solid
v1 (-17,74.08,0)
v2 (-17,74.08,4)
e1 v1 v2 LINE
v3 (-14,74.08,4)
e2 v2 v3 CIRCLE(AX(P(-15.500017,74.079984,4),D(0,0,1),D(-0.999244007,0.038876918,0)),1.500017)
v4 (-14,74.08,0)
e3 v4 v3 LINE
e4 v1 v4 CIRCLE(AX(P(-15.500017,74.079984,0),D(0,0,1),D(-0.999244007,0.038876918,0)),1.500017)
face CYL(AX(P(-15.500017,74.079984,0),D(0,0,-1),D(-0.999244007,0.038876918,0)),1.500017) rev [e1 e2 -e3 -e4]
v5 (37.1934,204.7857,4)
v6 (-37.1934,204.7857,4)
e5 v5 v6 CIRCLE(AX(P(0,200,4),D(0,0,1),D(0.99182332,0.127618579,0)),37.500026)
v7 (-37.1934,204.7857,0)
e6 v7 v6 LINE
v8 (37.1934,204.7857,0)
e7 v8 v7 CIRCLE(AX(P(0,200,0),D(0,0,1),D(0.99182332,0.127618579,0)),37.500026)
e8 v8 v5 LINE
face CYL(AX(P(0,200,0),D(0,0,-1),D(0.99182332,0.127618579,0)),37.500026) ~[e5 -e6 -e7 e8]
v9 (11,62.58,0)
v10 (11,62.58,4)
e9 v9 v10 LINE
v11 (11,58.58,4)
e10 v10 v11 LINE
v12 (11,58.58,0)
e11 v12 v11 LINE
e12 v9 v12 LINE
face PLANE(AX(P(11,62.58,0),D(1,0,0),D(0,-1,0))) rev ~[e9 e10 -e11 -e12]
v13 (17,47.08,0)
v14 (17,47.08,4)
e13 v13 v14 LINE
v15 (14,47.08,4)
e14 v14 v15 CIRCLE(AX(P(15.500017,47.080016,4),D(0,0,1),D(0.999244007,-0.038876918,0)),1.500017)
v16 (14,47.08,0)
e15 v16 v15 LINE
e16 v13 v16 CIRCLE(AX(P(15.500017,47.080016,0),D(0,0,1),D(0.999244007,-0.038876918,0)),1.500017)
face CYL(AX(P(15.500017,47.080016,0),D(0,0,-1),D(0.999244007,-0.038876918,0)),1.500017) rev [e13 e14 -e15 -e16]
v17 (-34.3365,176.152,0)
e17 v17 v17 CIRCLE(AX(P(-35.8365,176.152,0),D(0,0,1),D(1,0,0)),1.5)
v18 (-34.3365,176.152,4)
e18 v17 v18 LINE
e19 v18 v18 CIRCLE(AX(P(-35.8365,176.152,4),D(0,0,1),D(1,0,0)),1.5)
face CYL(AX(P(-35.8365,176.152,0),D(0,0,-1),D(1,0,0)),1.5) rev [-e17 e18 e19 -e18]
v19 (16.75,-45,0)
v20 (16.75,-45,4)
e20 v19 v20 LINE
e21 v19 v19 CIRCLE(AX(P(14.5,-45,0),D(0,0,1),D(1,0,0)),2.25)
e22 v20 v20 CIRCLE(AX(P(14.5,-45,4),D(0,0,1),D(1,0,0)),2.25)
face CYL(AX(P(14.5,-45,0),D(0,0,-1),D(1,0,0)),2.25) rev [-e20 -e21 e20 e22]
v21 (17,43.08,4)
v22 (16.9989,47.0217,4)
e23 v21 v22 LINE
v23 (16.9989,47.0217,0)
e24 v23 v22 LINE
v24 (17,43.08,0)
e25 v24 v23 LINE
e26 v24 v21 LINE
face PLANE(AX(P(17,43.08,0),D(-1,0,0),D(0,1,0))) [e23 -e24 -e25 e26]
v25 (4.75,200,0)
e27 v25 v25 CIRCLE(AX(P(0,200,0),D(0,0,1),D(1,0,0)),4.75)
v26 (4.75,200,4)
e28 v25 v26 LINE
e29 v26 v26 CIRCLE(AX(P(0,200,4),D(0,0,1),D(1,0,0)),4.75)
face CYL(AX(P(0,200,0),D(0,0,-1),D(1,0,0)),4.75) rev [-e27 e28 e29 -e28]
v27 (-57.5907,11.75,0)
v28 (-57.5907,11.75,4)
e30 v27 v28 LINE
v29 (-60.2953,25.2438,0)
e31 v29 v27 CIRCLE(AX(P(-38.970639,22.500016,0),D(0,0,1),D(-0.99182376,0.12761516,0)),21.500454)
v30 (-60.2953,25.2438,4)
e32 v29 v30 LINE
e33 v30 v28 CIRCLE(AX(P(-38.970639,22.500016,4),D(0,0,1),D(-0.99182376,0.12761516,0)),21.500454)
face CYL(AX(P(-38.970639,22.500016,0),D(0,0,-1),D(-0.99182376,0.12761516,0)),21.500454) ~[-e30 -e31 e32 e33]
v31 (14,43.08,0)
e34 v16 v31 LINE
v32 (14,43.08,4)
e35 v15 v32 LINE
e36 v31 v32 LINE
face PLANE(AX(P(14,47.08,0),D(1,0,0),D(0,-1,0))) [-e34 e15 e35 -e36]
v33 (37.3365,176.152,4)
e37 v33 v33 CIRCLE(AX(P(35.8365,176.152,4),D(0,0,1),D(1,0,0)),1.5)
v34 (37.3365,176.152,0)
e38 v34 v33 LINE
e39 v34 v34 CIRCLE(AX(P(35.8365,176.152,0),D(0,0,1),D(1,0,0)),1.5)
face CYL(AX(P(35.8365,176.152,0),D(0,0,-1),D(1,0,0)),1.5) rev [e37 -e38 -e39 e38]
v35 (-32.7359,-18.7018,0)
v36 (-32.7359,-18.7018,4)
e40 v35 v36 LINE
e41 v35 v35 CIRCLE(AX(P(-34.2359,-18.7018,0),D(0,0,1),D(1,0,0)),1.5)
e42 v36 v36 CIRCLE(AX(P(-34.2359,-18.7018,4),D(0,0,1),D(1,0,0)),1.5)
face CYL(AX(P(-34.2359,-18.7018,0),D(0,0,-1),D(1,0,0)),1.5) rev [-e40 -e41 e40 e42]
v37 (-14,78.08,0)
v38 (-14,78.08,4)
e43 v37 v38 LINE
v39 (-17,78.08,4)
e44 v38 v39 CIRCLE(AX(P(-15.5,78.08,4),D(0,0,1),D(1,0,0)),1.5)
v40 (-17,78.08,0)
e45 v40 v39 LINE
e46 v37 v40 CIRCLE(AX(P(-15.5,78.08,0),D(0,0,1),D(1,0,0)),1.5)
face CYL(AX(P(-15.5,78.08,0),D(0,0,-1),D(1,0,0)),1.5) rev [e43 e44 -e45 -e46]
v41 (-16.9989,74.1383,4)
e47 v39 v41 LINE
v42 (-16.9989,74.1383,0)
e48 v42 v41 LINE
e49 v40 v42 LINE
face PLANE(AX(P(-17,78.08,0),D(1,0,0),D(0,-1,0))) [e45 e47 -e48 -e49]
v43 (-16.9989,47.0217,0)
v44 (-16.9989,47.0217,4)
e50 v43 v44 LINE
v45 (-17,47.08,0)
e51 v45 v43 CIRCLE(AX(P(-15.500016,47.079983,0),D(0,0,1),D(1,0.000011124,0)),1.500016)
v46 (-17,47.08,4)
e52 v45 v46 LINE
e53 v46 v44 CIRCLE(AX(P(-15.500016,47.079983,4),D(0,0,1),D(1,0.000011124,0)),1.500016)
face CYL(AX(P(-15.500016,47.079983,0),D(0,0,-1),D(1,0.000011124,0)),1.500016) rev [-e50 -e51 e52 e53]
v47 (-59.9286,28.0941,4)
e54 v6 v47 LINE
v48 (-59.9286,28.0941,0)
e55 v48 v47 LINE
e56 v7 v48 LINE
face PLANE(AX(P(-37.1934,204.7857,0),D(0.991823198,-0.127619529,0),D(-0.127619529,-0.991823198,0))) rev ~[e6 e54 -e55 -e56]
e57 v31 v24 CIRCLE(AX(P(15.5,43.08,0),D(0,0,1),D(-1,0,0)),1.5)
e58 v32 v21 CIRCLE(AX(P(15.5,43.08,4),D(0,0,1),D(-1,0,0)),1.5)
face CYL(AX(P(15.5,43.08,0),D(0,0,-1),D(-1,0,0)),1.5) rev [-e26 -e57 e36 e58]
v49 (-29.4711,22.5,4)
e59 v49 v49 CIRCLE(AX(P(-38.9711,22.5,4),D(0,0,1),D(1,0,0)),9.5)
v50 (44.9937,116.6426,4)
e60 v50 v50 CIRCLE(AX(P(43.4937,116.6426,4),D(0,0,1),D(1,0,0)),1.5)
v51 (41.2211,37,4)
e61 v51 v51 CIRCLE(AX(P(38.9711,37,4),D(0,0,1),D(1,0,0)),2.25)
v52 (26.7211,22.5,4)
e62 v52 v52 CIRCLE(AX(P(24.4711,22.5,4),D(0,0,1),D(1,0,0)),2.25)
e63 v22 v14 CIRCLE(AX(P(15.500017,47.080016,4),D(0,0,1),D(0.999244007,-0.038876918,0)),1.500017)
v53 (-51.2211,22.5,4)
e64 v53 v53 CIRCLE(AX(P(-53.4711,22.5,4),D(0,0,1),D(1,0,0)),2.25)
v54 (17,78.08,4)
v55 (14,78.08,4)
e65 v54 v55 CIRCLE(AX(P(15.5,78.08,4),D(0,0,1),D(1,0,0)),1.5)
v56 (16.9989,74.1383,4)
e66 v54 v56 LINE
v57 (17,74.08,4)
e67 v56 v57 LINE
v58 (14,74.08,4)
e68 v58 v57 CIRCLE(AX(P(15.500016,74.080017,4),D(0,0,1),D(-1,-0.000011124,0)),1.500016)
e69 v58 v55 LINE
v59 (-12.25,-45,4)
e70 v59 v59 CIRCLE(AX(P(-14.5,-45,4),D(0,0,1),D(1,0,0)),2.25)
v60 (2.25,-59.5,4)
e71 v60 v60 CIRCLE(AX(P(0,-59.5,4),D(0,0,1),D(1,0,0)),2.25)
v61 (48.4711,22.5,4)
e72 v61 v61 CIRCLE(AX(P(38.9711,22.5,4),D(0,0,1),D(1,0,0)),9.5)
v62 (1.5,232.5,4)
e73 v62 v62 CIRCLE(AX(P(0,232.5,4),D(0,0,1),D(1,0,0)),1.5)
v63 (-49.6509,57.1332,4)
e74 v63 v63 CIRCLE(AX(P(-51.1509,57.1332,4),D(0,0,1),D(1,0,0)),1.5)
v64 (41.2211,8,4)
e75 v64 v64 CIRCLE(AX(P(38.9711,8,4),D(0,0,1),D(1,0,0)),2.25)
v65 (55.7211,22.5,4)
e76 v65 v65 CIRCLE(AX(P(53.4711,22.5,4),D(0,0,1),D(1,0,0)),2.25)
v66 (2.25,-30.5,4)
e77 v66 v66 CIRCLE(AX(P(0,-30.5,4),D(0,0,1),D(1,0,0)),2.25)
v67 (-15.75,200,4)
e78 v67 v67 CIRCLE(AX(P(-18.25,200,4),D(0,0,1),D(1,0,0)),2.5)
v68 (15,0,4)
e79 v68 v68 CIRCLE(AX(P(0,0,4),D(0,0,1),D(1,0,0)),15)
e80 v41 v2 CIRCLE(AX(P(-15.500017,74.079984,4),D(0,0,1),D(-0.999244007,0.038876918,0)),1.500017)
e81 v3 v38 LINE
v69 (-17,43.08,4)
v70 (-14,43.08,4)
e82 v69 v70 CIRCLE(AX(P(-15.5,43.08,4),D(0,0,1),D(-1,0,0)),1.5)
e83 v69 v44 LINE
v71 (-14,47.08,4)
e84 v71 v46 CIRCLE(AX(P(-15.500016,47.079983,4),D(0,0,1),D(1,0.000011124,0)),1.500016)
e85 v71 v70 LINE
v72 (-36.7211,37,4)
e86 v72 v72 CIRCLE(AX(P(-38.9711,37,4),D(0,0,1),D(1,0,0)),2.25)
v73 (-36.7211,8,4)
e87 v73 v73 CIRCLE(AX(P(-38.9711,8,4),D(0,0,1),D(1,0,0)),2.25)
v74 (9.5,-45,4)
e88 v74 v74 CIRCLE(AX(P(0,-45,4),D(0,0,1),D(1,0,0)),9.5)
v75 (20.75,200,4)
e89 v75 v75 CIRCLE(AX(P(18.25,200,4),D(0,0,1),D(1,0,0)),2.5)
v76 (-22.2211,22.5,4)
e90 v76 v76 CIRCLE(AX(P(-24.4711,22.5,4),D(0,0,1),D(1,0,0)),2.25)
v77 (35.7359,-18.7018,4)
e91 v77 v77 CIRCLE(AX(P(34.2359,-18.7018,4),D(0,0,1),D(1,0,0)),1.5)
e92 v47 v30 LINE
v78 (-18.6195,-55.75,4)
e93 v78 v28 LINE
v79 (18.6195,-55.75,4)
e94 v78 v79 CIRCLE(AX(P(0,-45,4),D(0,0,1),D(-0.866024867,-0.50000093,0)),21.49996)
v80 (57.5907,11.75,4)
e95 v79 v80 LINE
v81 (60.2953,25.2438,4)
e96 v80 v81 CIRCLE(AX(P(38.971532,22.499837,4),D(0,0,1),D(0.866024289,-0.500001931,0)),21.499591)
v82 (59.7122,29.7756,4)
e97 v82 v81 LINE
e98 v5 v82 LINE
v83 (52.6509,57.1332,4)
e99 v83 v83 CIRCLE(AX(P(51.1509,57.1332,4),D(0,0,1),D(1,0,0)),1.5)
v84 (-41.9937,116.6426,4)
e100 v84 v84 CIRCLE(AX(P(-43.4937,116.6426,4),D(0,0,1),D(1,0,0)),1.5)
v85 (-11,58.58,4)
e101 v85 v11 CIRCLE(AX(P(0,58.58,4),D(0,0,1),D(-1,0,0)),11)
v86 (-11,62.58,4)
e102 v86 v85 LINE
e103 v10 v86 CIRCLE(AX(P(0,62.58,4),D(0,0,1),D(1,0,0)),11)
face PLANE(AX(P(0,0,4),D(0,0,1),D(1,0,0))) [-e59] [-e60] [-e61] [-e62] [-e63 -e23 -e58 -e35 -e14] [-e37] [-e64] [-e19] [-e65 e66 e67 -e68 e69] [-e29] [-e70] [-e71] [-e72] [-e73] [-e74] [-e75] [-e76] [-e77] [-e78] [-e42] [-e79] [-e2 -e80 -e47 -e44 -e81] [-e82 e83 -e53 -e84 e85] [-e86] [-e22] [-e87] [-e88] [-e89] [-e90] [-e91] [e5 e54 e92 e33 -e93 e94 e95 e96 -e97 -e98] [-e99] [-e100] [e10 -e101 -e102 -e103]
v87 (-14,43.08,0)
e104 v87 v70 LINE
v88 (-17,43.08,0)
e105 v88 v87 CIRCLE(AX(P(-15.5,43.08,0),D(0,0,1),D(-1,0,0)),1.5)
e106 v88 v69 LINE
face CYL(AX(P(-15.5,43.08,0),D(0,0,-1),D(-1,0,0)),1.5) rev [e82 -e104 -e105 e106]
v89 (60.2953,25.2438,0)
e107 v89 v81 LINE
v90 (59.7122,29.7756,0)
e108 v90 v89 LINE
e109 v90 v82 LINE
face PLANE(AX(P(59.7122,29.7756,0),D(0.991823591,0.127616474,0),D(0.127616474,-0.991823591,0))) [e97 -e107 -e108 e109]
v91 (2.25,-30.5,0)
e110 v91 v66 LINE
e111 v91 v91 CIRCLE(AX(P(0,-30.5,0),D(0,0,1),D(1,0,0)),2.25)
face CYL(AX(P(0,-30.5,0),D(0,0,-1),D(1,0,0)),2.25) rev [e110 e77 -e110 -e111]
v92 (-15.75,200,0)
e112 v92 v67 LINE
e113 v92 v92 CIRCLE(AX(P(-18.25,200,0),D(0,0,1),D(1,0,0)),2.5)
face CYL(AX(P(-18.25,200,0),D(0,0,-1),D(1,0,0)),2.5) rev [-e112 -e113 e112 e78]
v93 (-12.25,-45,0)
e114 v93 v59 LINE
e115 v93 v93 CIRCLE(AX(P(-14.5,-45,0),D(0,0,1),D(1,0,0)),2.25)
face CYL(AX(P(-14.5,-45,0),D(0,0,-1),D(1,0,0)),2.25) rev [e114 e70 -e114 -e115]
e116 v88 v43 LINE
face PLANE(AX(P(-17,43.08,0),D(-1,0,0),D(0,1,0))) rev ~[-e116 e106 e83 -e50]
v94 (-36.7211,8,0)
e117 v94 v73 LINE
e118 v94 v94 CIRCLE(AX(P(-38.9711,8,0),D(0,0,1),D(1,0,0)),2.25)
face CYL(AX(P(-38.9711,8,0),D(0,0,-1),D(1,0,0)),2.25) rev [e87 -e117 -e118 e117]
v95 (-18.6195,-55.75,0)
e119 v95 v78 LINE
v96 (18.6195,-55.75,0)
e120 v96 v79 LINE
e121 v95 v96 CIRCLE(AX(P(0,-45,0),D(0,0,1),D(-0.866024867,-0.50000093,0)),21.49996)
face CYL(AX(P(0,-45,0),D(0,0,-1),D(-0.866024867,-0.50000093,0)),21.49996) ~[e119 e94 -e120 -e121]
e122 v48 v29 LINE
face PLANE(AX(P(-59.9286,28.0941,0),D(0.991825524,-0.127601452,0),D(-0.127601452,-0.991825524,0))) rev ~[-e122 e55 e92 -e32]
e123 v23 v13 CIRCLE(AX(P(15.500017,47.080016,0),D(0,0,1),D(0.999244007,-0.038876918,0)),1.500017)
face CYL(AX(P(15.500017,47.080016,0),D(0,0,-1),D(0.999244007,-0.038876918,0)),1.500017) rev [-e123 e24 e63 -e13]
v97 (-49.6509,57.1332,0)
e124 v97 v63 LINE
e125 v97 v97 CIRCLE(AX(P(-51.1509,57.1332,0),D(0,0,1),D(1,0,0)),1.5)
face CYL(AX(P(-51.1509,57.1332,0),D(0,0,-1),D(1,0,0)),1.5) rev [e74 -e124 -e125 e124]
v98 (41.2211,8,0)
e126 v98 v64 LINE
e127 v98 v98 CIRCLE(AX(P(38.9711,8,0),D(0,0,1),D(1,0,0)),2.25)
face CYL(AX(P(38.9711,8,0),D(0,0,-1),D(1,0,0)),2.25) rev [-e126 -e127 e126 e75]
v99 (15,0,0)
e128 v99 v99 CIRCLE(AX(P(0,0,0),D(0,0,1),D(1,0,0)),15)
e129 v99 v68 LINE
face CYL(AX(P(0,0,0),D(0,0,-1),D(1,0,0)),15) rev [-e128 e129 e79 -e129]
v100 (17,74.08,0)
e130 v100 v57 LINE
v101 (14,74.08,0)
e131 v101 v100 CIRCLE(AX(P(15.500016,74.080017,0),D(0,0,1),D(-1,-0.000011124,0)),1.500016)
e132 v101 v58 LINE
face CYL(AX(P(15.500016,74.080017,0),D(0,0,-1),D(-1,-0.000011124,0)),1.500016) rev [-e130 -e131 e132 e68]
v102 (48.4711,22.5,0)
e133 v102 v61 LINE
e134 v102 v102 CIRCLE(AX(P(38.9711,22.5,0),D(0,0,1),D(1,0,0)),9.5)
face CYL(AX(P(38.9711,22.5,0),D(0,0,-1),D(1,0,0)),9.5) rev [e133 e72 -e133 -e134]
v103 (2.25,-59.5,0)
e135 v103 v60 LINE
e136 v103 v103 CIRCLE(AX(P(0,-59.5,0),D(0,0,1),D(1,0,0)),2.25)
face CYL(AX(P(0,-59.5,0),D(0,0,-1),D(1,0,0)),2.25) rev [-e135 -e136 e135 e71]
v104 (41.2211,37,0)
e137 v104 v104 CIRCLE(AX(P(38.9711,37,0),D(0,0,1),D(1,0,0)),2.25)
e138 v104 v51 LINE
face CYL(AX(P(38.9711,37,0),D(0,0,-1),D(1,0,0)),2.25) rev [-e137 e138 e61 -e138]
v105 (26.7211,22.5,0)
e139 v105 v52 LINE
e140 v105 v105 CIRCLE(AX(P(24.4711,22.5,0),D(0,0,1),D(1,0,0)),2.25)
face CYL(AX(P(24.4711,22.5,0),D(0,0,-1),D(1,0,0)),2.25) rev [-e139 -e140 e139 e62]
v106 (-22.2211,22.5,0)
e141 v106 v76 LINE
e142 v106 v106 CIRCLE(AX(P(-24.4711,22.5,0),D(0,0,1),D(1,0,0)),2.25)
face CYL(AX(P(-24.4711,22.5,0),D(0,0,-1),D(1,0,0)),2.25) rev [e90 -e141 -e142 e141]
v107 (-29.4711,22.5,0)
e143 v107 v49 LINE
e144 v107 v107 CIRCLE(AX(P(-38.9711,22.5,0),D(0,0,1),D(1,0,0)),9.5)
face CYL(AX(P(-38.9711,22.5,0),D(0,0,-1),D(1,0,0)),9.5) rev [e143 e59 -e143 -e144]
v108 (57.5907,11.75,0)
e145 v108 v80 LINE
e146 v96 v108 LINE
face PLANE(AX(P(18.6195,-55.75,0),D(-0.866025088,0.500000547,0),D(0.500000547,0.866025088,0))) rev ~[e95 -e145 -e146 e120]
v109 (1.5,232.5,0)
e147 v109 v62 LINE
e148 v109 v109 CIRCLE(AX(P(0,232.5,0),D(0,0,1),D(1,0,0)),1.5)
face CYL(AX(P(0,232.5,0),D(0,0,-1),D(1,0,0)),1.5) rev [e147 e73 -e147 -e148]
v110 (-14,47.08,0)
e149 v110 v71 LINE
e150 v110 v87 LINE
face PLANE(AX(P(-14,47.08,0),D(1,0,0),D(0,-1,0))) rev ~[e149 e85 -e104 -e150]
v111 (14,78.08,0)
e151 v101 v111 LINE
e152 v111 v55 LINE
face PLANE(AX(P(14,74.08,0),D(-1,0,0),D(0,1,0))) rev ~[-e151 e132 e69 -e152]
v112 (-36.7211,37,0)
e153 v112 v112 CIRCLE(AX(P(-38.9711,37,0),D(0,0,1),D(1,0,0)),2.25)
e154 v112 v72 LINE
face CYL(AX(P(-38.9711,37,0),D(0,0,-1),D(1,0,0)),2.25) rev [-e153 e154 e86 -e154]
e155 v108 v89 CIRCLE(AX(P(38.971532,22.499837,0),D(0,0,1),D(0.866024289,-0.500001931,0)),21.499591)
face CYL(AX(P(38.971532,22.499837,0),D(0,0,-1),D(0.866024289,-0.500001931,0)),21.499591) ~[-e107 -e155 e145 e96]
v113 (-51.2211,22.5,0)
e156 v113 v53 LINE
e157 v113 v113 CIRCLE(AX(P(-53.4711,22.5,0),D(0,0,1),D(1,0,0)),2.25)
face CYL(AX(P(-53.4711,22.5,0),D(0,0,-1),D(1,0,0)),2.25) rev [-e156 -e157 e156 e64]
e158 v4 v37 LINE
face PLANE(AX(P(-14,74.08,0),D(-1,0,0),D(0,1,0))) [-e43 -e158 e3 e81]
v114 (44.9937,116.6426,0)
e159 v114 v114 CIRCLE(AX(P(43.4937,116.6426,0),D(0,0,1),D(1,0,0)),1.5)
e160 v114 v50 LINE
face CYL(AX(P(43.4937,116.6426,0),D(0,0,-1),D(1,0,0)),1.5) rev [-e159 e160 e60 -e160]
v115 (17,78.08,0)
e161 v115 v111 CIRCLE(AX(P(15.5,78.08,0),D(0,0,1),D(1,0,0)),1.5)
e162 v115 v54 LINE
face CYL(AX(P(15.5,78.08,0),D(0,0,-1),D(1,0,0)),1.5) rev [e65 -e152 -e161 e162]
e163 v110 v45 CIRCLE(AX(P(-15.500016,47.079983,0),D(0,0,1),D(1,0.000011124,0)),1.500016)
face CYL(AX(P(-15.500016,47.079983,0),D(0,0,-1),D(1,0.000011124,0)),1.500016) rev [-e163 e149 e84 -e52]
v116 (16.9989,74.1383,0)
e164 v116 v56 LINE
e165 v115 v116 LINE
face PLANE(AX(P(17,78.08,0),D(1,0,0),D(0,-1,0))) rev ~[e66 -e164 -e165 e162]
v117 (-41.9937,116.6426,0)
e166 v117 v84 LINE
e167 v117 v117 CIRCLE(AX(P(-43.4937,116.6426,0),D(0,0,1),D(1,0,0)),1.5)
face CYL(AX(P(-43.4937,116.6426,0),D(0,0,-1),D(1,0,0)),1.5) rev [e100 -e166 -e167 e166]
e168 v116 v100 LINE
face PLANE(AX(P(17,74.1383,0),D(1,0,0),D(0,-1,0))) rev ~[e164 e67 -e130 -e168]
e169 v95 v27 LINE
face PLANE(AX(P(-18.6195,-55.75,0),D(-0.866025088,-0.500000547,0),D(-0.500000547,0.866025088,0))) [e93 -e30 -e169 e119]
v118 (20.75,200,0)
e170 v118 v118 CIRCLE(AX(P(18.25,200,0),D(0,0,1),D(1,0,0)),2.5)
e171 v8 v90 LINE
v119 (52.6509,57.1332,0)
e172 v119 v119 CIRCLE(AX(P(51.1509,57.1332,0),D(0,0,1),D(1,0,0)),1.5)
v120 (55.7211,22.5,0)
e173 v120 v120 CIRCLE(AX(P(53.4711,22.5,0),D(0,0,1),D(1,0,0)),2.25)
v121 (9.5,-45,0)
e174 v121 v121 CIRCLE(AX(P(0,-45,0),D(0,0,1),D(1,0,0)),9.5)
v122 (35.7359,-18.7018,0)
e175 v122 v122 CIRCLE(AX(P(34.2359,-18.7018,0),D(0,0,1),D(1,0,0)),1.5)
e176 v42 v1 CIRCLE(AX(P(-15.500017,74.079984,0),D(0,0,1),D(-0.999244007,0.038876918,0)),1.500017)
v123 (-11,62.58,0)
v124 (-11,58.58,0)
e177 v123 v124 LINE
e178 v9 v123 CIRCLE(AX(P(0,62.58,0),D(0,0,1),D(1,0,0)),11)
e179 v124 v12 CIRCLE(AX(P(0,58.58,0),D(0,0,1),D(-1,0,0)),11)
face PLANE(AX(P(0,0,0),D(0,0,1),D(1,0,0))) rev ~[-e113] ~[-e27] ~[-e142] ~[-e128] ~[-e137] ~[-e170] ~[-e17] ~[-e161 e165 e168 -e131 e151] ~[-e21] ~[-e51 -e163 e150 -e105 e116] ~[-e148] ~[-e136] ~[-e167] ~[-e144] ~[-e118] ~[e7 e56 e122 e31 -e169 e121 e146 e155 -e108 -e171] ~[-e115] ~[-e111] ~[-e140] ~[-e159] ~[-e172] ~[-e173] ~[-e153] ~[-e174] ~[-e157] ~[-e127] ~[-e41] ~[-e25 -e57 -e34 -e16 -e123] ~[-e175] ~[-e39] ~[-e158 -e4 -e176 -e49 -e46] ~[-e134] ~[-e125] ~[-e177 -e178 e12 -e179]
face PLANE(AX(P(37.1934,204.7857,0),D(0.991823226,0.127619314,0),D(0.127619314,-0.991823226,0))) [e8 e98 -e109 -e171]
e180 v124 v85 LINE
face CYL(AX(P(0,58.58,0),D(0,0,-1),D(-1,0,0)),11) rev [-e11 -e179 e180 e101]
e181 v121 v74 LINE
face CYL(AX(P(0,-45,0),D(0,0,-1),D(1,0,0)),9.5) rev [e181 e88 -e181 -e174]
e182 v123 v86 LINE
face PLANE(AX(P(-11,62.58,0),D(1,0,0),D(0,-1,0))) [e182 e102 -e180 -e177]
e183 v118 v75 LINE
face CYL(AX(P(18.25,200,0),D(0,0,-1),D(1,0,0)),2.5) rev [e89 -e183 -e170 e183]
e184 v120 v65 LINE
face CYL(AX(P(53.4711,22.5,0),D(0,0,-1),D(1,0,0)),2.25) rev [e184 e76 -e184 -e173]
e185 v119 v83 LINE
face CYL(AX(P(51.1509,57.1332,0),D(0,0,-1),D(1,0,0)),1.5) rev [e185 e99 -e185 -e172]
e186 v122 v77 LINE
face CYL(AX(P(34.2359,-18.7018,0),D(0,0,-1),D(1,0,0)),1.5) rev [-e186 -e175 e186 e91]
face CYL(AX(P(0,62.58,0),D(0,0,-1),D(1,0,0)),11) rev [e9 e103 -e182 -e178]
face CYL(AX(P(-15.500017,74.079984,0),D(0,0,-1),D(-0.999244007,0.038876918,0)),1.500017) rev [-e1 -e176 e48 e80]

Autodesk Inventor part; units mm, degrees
ref_plane "YZ Plane" through (0, 0, 0) normal (1, 0, 0) x (0, 1, 0)
ref_plane "XZ Plane" through (0, 0, 0) normal (0, 1, 0) x (-1, 0, 0)
ref_plane "XY Plane" through (0, 0, 0) normal (0, 0, 1) x (1, 0, 0)
sketch "Sketch1" plane through (0, 0, 0) normal (0, 0, 1) x (1, 0, 0)
  line L0 (0, 0) -> (0, 200) construction
  arc A0 (37.1934, 204.7857) -> (-37.1934, 204.7857) centre (0, 200) ccw
  line L1 (0, 200) -> (-18.25, 200) construction
  circle A1 centre (-18.25, 200) radius 2.5
  line L2 (0, 200) -> (18.25, 200) construction
  circle A2 centre (18.25, 200) radius 2.5
  circle A3 centre (0, 0) radius 15
  line L3 (37.1934, 204.7857) -> (59.7122, 29.7756)
  line L4 (-37.1934, 204.7857) -> (-59.9286, 28.0941)
  line L5 (48.4528, 117.2807) -> (43.4937, 116.6426) construction
  line L6 (51.1509, 57.1332) -> (35.8365, 176.152) construction
  circle A4 centre (35.8365, 176.152) radius 1.5
  circle A5 centre (51.1509, 57.1332) radius 1.5
  circle A6 centre (43.4937, 116.6426) radius 1.5
  line L7 (0, 237.5) -> (0, 232.5) construction
  circle A7 centre (0, 232.5) radius 1.5
  circle A8 centre (-35.8365, 176.152) radius 1.5
  circle A9 centre (-51.1509, 57.1332) radius 1.5
  circle A10 centre (-43.4937, 116.6426) radius 1.5
  circle A11 centre (0, 200) radius 4.75
  line L8 (0, 200) -> (0, 60.58) construction
  circle A12 centre (0, 60.58) radius 11 construction
  line L9 (0, 62.58) -> (0, 58.58) construction
  arc A13 (-11, 58.58) -> (11, 58.58) centre (0, 58.58) ccw
  line L10 (-11, 62.58) -> (-11, 58.58)
  line L11 (11, 62.58) -> (11, 58.58)
  arc A14 (11, 62.58) -> (-11, 62.58) centre (0, 62.58) ccw
  line L12 (-15.5, 60.58) -> (15.5, 60.58) construction
  line L13 (0, 76.08) -> (0, 45.08) construction
  circle A15 centre (-15.5, 45.08) radius 1.5 construction
  line L14 (-15.5, 47.08) -> (-15.5, 43.08) construction
  arc A16 (-14, 47.08) -> (-16.9989, 47.0217) centre (-15.5, 47.08) ccw
  line L15 (-14, 47.08) -> (-14, 43.08)
  line L16 (-17, 43.08) -> (-17, 47.08)
  arc A17 (-17, 43.08) -> (-14, 43.08) centre (-15.5, 43.08) ccw
  circle A18 centre (15.5, 45.08) radius 1.5 construction
  line L17 (15.5, 47.08) -> (15.5, 43.08) construction
  arc A19 (16.9989, 47.0217) -> (14, 47.08) centre (15.5, 47.08) ccw
  line L18 (14, 47.08) -> (14, 43.08)
  line L19 (17, 43.08) -> (17, 47.08)
  arc A20 (14, 43.08) -> (17, 43.08) centre (15.5, 43.08) ccw
  circle A21 centre (-15.5, 76.08) radius 1.5 construction
  line L20 (-15.5, 74.08) -> (-15.5, 78.08) construction
  arc A22 (-16.9989, 74.1383) -> (-14, 74.08) centre (-15.5, 74.08) ccw
  line L21 (-14, 74.08) -> (-14, 78.08)
  line L22 (-17, 78.08) -> (-17, 74.08)
  arc A23 (-14, 78.08) -> (-17, 78.08) centre (-15.5, 78.08) ccw
  arc A24 (17, 78.08) -> (14, 78.08) centre (15.5, 78.08) ccw
  circle A25 centre (15.5, 76.08) radius 1.5 construction
  line L23 (14, 74.08) -> (14, 78.08)
  line L24 (15.5, 74.08) -> (15.5, 78.08) construction
  line L25 (17, 78.08) -> (17, 74.08)
  arc A26 (14, 74.08) -> (16.9989, 74.1383) centre (15.5, 74.08) ccw
  circle A27 centre (0, 0) radius 45 construction
  circle A28 centre (0, -45) radius 9.5
  circle A29 centre (0, -45) radius 14.5 construction
  circle A30 centre (0, -59.5) radius 2.25
  circle A31 centre (14.5, -45) radius 2.25
  circle A32 centre (0, -30.5) radius 2.25
  circle A33 centre (-14.5, -45) radius 2.25
  circle A34 centre (0, -45) radius 21.5 construction
  circle A35 centre (38.9711, 22.5) radius 21.5 construction
  circle A36 centre (51.5285, 29.75) radius 2.25 construction
  circle A37 centre (46.2211, 9.9426) radius 2.25 construction
  circle A38 centre (31.7211, 35.0574) radius 2.25 construction
  circle A39 centre (26.4138, 15.25) radius 2.25 construction
  circle A40 centre (38.9711, 22.5) radius 9.5
  circle A41 centre (-38.9711, 22.5) radius 21.5 construction
  circle A42 centre (-51.5285, 29.75) radius 2.25 construction
  circle A43 centre (-31.7211, 35.0574) radius 2.25 construction
  circle A44 centre (-46.2211, 9.9426) radius 2.25 construction
  circle A45 centre (-26.4138, 15.25) radius 2.25 construction
  circle A46 centre (-38.9711, 22.5) radius 9.5
  line L26 (-18.6195, -55.75) -> (-57.5907, 11.75)
  line L27 (18.6195, -55.75) -> (57.5907, 11.75)
  line L28 (48.4528, 117.2807) -> (48.4528, 23.0901) construction
  line L29 (59.7122, 29.7756) -> (60.2953, 25.2438)
  line L30 (48.4528, 23.0901) -> (48.4528, -26.9099) construction
  line L31 (48.4528, -26.9099) -> (38.566, -21.2018) construction
  line L32 (38.566, -21.2018) -> (34.2359, -18.7018) construction
  circle A47 centre (34.2359, -18.7018) radius 1.5
  circle A48 centre (-34.2359, -18.7018) radius 1.5
  arc A49 (57.5907, 11.75) -> (60.2953, 25.2438) centre (38.9711, 22.5) ccw
  arc A50 (-60.2953, 25.2438) -> (-57.5907, 11.75) centre (-38.9711, 22.5) ccw
  arc A51 (-18.6195, -55.75) -> (18.6195, -55.75) centre (0, -45) ccw
  circle A52 centre (38.9711, 22.5) radius 14.5 construction
  circle A53 centre (53.4711, 22.5) radius 2.25
  line L33 (38.9711, 22.5) -> (53.4711, 22.5) construction
  circle A54 centre (38.9711, 37) radius 2.25
  circle A55 centre (24.4711, 22.5) radius 2.25
  circle A56 centre (38.9711, 8) radius 2.25
  circle A57 centre (-53.4711, 22.5) radius 2.25
  circle A58 centre (-38.9711, 37) radius 2.25
  circle A59 centre (-24.4711, 22.5) radius 2.25
  circle A60 centre (-38.9711, 8) radius 2.25
  line L34 (-59.9286, 28.0941) -> (-60.2953, 25.2438)
  dimension "d79" = 90
  dimension "d81" = 29
  dimension "d99" = 29
  dimension "L_Elo" = 200
  dimension "D_Junta2" = 75
  dimension "d13" = 18.25
  dimension "d14" = 5
  dimension "D_furoZ" = 30
  dimension "d16" = 5
  dimension "d17" = 120
  dimension "d18" = 3
  dimension "d19" = 3
  dimension "d20" = 3
  dimension "d21" = 5
  dimension "d22" = 3
  dimension "D_Eixo" = 9.5
  dimension "CA" = 139.42
  dimension "DN" = 22
  dimension "NN" = 4
  dimension "d51" = 22
  dimension "d53" = 11
  dimension "d54" = 31
  dimension "d55" = 31
  dimension "FN" = 3
  dimension "d57" = 15.5
  dimension "d58" = 15.5
  dimension "d59" = 4
  dimension "d61" = 3
  dimension "d62" = 1.5
  dimension "d80" = 19
  dimension "d82" = 4.5
  dimension "d83" = 45
  dimension "d84" = 14.5
  dimension "d85" = 14.5
  dimension "d88" = 360
  dimension "d90" = 43
  dimension "d93" = 360
  dimension "d95" = 94.1906
  dimension "d96" = 50
  dimension "d97" = 5
  dimension "d98" = 3
  dimension "d100" = 4.5
  dimension "d104" = 360
extrude "Extrusion1" add sketch "Sketch1" along normal blind 4
equation "\"d16\" = LF"
equation "\"d18\" = D_Sup"
equation "\"d19\" = D_Sup"
equation "\"d20\" = D_Sup"
equation "\"d21\" = LF"
equation "\"d22\" = D_Sup"
equation "\"LF\" = 5"
equation "\"D_Sup\" = 3"
properties part number "1ELO"
